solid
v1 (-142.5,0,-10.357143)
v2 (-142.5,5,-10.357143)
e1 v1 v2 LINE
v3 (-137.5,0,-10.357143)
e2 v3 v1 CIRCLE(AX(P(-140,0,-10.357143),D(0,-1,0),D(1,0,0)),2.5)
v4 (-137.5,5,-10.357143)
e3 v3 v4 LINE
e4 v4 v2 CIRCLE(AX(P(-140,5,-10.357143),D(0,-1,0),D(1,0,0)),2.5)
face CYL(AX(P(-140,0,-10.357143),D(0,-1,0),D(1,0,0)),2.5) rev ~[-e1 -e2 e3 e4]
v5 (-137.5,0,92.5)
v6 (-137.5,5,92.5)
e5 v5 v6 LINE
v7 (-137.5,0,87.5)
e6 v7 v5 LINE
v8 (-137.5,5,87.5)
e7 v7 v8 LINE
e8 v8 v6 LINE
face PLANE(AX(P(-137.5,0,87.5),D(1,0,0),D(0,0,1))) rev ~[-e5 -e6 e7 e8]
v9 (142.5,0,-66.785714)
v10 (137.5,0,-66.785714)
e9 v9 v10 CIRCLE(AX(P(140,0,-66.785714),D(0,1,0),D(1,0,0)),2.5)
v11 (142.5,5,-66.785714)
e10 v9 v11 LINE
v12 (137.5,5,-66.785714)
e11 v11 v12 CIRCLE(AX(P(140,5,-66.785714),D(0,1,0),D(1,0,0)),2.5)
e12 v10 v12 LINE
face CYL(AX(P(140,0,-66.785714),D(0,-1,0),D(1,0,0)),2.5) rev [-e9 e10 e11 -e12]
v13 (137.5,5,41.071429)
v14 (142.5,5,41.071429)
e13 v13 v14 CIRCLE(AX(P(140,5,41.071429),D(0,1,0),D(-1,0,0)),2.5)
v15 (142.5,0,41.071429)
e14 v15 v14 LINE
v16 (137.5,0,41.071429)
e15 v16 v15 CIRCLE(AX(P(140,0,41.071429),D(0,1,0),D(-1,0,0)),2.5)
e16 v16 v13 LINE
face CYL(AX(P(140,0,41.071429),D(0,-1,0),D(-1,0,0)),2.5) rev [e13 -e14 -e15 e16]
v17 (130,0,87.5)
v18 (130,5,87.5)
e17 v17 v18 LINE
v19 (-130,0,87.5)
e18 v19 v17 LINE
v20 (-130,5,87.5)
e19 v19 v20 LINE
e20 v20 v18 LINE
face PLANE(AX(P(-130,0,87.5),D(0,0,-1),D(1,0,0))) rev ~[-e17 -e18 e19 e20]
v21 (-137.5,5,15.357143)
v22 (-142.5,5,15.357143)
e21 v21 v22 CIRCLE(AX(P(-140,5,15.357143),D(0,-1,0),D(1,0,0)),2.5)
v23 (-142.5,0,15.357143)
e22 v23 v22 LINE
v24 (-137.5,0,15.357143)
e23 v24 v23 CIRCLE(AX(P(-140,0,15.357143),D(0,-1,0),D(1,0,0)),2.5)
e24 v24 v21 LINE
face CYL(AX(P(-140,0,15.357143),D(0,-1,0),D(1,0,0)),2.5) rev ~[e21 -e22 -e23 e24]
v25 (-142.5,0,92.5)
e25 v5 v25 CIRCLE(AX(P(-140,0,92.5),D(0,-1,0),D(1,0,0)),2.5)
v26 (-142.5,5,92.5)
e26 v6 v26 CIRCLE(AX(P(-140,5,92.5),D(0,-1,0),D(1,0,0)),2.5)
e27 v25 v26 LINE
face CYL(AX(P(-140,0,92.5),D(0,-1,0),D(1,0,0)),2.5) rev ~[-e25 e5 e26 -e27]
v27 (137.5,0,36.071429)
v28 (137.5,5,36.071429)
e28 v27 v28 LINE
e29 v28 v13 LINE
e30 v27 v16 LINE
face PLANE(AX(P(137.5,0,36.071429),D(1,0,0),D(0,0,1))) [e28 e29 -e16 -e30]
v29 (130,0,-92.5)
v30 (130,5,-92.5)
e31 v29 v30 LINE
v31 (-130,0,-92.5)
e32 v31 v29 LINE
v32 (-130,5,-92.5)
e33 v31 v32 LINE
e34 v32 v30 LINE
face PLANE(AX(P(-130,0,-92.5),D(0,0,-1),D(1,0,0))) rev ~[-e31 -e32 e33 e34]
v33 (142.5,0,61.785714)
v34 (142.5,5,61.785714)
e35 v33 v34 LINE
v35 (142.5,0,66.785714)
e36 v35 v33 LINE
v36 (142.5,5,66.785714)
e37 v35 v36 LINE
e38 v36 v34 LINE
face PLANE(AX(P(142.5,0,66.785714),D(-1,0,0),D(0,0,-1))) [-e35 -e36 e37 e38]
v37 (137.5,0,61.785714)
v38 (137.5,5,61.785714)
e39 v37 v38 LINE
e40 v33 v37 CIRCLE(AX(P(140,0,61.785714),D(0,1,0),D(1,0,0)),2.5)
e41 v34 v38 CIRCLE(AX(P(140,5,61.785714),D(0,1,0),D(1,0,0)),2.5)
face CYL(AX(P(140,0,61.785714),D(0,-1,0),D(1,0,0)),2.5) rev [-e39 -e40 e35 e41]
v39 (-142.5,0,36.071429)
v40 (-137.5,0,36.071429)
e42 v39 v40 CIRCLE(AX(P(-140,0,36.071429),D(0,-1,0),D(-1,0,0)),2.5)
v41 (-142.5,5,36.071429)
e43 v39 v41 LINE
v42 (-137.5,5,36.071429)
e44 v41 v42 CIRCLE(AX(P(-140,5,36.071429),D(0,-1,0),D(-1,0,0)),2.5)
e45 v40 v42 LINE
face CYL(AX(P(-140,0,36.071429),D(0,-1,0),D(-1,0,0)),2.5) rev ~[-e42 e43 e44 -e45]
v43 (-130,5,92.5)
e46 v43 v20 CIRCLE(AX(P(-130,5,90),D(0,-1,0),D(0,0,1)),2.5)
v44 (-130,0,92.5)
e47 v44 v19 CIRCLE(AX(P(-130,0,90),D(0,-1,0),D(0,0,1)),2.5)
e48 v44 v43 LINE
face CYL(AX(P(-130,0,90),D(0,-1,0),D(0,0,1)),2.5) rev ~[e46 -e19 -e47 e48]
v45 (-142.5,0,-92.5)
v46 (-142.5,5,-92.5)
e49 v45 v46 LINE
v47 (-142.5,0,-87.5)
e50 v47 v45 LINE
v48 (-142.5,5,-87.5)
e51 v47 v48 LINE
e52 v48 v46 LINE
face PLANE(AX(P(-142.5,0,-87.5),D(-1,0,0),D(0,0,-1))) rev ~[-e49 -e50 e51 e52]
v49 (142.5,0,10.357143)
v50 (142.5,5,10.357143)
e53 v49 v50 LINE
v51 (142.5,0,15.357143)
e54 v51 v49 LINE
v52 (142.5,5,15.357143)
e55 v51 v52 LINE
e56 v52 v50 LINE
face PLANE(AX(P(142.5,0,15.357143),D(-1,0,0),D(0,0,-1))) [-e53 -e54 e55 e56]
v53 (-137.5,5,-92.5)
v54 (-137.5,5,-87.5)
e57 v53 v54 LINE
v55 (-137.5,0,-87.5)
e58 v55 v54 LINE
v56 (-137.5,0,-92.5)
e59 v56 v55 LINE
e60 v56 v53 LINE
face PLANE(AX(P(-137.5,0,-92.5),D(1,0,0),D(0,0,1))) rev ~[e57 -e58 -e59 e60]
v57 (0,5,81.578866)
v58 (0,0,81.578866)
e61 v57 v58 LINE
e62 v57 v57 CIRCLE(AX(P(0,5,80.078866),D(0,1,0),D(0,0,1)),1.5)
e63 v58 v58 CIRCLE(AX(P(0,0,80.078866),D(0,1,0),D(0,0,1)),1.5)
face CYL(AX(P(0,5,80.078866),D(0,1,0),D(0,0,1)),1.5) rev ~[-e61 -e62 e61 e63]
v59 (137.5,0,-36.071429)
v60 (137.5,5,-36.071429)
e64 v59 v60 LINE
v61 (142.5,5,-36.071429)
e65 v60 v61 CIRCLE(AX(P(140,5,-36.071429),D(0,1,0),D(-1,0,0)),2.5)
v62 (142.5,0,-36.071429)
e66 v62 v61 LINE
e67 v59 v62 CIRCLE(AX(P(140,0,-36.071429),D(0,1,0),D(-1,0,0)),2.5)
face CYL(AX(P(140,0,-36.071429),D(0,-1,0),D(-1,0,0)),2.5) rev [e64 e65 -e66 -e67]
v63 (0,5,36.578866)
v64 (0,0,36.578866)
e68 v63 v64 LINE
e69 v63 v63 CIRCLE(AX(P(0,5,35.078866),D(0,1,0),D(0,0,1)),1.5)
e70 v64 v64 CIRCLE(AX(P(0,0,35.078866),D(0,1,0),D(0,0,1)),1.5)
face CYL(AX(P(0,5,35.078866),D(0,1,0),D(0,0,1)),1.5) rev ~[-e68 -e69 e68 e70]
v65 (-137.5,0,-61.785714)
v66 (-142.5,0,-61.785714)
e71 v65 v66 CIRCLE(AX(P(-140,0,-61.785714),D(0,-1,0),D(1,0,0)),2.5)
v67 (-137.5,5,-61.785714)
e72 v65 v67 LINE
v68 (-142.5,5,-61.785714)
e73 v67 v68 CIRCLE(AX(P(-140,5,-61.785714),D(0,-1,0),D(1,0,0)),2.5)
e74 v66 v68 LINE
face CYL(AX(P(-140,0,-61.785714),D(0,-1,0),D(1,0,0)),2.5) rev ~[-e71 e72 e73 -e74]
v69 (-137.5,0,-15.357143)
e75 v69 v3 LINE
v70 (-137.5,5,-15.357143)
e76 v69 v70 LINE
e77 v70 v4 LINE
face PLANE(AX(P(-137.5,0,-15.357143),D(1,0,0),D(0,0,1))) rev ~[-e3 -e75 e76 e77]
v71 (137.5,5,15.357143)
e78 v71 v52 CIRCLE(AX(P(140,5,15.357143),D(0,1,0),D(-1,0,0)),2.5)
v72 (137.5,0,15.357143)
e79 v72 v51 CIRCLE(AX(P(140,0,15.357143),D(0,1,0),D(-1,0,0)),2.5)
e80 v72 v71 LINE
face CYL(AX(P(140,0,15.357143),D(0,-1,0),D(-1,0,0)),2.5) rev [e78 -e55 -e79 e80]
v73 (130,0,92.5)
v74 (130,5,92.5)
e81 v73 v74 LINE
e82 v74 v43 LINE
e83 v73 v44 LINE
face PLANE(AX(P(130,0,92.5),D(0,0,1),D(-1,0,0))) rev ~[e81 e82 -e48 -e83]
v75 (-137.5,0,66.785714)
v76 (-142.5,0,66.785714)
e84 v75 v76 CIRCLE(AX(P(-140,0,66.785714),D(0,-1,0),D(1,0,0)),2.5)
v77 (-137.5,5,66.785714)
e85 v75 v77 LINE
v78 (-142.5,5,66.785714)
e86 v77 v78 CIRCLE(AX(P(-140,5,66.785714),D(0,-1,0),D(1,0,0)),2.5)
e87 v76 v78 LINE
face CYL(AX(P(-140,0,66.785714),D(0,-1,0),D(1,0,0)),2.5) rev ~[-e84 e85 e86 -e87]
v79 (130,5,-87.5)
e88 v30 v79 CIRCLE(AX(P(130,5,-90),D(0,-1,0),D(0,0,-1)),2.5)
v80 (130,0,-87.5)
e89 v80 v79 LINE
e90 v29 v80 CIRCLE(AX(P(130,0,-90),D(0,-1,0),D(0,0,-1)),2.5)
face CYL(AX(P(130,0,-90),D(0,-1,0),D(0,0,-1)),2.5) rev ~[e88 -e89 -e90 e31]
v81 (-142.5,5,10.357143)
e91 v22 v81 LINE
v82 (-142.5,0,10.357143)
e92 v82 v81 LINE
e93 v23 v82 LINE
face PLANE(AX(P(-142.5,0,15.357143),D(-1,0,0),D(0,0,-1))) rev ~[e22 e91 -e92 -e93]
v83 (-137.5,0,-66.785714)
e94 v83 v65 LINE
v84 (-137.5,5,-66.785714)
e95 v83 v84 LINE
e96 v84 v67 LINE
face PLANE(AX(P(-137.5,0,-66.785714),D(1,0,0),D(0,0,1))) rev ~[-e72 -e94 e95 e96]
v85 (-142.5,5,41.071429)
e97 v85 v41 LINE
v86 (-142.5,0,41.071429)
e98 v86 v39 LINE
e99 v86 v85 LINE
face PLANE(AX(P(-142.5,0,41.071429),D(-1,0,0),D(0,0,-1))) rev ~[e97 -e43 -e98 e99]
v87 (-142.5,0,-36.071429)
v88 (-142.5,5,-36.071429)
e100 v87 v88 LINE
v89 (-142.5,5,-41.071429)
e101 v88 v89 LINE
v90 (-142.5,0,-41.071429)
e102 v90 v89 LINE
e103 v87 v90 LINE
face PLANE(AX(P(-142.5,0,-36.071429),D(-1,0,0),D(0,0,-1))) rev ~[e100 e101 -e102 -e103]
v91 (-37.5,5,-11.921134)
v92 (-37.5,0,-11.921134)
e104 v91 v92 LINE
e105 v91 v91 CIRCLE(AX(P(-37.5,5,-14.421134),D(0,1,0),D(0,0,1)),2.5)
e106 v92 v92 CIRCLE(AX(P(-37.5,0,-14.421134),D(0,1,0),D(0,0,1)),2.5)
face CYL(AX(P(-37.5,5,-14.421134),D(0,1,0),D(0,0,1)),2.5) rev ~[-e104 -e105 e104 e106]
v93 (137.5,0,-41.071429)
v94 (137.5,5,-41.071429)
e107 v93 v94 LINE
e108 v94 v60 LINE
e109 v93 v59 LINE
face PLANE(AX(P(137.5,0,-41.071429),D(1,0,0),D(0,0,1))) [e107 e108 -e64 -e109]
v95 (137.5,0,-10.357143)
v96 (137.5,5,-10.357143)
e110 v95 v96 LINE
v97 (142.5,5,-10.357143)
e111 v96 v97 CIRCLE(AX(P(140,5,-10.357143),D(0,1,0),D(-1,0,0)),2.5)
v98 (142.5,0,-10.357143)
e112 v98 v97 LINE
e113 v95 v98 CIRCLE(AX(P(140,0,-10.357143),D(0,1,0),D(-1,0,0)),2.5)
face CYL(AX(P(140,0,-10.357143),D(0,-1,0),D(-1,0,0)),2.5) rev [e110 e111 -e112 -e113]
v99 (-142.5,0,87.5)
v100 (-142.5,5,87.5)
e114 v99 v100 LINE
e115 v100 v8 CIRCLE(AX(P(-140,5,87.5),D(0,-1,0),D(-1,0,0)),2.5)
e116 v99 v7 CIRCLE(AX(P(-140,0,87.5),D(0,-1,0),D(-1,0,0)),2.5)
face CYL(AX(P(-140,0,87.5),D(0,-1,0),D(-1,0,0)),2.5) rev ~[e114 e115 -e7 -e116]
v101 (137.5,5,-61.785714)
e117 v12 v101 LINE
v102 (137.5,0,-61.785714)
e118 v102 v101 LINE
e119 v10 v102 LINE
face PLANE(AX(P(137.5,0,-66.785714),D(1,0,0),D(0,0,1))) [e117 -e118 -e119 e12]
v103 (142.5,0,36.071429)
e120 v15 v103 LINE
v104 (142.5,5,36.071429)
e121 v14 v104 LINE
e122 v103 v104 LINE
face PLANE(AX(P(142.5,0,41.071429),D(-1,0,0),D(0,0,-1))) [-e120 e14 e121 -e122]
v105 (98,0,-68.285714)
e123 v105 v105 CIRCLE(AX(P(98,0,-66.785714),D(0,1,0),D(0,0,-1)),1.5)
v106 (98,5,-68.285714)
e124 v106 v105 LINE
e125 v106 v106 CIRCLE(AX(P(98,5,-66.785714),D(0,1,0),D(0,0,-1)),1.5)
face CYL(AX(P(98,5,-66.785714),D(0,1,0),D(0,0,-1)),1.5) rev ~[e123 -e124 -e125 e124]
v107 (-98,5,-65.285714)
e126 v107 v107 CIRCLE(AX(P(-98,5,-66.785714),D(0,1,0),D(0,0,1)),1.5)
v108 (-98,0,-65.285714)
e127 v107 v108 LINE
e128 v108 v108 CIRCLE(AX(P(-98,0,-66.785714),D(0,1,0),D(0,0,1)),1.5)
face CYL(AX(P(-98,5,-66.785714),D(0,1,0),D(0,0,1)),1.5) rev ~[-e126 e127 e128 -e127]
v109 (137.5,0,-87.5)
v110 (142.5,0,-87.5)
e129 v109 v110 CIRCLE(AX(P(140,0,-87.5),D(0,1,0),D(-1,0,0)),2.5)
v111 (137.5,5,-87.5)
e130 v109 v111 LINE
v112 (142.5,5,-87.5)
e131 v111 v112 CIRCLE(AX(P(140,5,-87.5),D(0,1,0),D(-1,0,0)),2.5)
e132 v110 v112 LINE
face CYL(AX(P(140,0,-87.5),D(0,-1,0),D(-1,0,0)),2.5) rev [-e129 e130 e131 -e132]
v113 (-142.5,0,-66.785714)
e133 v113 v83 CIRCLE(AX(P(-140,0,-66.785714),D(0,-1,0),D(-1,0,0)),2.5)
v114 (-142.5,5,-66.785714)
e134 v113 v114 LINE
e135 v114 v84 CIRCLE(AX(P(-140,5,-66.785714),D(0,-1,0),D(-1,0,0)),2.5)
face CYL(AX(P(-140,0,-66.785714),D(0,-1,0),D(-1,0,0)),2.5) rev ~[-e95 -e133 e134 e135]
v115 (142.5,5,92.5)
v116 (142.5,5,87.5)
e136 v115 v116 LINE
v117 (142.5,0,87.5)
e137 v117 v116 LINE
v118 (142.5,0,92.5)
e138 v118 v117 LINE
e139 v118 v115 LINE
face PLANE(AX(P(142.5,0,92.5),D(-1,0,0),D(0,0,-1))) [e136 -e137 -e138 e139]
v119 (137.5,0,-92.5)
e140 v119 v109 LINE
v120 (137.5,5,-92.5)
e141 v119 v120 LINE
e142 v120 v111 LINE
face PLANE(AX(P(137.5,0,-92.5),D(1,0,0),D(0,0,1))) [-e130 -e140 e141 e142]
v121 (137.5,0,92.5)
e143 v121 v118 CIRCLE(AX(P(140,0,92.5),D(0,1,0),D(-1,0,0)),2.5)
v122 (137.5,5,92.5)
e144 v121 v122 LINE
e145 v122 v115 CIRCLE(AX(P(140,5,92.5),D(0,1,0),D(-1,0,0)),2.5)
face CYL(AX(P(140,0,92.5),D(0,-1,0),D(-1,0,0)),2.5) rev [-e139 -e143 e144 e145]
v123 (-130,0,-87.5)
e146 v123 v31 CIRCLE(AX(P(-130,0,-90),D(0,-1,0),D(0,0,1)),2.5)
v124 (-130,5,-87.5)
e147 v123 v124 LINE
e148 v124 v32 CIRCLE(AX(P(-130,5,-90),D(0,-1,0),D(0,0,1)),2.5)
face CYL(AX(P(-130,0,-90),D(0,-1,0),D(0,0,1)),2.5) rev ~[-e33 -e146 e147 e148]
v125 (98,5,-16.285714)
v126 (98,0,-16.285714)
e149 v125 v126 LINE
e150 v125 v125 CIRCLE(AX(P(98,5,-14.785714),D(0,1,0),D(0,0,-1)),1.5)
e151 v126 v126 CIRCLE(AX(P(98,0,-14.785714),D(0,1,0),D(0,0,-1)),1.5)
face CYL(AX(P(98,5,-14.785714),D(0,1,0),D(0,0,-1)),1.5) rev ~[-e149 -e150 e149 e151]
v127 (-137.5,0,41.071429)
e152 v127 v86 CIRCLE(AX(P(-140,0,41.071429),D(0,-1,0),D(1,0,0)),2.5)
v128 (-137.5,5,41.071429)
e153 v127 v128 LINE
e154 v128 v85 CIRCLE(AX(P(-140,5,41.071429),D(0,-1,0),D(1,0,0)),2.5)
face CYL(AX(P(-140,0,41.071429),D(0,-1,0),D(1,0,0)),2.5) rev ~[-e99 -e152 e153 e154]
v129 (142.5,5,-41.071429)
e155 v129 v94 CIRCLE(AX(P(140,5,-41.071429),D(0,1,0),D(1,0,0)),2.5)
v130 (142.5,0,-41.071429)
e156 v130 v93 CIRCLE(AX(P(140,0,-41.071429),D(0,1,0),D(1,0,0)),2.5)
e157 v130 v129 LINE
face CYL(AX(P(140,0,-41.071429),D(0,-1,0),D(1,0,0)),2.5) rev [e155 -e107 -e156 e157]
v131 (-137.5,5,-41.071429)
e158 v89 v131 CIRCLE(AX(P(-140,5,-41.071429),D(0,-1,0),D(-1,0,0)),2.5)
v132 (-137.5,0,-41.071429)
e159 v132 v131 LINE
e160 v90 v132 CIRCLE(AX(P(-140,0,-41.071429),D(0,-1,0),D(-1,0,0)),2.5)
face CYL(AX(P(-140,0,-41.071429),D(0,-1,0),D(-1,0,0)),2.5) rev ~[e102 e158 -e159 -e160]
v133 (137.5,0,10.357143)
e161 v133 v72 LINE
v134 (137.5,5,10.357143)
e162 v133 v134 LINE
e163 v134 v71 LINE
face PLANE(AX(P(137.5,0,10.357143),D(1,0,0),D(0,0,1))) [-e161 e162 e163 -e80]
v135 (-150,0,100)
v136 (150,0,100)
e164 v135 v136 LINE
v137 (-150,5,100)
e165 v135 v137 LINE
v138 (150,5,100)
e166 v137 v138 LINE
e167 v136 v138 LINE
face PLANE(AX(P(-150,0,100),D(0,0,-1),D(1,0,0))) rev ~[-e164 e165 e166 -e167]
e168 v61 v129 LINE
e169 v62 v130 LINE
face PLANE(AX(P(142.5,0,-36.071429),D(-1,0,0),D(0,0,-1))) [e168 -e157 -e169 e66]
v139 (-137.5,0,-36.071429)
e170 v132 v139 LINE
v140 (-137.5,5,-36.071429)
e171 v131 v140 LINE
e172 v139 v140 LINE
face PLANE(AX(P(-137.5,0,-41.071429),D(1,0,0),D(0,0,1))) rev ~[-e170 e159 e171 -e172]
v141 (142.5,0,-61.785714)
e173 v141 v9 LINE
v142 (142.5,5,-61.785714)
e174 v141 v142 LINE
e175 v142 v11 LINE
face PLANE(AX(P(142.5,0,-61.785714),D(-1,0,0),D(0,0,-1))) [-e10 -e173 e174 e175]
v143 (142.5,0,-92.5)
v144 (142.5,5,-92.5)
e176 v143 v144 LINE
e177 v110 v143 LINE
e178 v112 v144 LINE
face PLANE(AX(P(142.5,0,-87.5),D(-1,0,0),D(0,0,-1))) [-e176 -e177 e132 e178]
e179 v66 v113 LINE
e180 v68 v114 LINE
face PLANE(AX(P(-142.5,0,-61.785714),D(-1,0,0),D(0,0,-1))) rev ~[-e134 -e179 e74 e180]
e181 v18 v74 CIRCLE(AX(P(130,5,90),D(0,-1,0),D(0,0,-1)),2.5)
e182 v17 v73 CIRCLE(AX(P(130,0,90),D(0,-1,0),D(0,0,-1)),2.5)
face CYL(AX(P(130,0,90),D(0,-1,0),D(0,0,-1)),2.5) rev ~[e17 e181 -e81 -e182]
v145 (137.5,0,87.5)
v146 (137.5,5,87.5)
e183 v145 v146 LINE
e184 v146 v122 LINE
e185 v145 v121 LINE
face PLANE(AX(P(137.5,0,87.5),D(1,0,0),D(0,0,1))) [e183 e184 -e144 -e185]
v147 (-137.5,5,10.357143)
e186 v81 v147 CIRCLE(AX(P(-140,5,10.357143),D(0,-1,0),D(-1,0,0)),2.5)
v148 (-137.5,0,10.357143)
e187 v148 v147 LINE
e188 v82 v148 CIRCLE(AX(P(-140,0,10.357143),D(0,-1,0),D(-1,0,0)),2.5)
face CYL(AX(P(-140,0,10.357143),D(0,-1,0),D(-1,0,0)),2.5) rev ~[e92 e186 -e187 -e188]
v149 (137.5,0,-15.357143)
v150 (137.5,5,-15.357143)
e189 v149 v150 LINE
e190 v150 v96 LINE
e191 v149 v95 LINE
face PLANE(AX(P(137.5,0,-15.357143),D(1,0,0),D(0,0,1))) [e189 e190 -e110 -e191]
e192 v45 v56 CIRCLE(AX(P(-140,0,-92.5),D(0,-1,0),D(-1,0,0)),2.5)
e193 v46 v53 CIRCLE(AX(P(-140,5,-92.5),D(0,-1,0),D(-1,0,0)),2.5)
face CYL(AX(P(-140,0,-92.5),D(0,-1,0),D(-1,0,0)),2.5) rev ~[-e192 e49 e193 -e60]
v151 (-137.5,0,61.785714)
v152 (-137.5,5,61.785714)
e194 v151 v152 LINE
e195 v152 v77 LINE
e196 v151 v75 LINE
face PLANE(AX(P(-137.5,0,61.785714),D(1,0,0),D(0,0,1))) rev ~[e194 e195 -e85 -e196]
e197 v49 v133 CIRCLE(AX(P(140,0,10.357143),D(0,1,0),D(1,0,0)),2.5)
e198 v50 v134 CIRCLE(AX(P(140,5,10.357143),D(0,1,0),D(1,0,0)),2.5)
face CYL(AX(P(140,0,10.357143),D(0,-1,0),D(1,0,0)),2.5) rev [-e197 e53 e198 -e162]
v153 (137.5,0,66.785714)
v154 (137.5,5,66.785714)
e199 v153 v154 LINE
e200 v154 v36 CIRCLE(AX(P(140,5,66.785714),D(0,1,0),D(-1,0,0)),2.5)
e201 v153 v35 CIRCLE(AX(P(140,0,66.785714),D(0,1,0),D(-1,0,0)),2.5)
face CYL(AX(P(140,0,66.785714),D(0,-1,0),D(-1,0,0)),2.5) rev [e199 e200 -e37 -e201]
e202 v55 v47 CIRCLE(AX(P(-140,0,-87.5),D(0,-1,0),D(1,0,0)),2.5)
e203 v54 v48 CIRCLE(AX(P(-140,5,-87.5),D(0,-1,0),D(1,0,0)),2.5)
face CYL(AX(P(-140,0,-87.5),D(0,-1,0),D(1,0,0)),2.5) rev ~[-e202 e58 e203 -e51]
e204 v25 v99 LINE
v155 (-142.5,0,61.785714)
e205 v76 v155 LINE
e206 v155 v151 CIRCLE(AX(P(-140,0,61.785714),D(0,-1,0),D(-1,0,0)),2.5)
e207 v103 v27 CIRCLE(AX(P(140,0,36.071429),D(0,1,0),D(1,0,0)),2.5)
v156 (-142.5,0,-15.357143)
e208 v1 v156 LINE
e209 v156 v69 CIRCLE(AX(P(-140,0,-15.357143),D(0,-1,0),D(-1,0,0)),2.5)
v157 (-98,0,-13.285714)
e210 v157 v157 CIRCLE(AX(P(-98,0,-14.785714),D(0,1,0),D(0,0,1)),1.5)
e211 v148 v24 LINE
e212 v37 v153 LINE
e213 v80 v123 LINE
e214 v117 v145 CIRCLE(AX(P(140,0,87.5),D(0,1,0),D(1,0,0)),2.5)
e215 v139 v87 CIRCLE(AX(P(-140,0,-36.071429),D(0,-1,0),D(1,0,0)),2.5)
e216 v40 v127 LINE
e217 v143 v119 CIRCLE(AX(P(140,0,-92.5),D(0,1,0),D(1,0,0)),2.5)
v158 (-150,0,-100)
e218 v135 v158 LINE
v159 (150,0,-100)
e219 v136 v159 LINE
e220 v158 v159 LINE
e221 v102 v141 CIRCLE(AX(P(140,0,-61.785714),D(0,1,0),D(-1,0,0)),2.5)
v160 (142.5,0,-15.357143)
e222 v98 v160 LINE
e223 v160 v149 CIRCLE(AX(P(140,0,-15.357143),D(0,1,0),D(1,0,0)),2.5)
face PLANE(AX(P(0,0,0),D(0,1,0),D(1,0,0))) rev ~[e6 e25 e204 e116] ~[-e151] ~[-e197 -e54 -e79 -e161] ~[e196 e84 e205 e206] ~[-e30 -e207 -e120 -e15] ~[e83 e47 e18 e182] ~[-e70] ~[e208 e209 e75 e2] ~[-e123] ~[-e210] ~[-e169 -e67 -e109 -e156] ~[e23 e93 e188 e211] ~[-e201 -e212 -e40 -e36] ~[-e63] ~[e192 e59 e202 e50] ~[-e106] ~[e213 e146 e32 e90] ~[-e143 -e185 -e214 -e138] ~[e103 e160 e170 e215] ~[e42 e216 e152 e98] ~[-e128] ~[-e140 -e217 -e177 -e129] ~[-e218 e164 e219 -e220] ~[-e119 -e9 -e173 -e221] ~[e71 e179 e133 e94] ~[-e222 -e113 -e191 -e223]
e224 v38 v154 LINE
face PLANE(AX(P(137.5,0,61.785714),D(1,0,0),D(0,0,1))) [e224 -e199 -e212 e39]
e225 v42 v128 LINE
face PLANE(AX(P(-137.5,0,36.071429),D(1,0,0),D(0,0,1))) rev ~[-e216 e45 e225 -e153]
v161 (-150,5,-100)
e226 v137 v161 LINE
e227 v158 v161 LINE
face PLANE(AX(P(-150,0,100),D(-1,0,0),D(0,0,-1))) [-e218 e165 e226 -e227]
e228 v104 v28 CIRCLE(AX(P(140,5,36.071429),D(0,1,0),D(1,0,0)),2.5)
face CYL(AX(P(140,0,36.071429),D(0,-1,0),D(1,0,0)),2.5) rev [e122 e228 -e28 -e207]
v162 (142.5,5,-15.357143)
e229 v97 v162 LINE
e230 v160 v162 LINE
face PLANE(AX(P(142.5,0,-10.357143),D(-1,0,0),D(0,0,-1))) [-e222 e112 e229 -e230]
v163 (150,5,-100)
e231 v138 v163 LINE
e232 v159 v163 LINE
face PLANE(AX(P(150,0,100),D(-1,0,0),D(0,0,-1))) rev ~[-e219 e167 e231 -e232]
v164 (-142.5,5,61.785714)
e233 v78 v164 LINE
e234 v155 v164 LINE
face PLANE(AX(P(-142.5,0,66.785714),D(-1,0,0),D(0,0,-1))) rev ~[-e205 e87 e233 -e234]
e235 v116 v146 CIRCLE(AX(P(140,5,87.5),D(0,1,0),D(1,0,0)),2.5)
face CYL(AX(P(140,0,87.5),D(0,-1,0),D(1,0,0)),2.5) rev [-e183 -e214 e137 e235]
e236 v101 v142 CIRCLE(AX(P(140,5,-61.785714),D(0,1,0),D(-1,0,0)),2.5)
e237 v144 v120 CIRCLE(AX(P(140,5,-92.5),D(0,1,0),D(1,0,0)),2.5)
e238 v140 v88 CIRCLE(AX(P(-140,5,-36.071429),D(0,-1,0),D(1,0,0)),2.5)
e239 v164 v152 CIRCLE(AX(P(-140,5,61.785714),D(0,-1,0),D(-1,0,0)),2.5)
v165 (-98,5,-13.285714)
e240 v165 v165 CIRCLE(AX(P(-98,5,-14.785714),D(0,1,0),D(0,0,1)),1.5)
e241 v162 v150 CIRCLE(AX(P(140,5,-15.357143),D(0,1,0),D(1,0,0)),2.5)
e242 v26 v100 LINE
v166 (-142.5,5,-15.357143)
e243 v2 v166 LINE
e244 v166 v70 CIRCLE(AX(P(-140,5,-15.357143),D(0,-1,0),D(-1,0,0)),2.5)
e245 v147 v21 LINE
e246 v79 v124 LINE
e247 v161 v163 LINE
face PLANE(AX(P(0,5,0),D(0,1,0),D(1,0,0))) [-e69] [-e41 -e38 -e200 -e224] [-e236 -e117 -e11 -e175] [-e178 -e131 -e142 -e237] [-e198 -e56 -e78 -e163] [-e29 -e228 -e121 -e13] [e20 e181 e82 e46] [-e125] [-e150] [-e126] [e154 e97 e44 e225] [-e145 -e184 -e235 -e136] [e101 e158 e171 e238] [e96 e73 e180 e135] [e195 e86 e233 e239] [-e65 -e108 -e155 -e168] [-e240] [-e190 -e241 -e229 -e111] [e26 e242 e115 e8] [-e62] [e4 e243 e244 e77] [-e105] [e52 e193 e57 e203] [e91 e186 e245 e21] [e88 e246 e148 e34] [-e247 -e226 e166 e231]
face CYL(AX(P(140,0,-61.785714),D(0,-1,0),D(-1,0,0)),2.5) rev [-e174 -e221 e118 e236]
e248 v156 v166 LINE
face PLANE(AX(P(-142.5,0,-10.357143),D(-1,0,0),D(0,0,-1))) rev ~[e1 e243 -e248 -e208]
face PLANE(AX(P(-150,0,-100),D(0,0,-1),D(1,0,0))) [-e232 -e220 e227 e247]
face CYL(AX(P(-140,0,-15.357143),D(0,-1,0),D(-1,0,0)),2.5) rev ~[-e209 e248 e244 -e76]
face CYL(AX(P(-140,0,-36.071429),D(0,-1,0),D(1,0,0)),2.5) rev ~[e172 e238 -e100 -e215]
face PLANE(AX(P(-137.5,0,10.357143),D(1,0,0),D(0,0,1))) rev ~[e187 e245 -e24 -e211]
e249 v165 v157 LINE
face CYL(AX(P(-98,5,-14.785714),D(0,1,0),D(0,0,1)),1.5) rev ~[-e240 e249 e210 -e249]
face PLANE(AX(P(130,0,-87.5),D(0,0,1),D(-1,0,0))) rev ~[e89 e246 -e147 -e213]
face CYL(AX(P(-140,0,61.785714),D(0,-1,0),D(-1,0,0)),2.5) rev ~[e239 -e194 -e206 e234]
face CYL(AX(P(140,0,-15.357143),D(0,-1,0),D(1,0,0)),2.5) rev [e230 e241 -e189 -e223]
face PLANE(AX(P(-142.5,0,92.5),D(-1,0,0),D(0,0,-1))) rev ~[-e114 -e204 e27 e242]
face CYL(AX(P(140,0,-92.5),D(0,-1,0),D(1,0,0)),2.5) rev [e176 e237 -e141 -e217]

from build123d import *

# Parameters (mm, degrees)
SKETCH_1_W          = 300
SKETCH_1_H          = 200
EXTRUDE_1_DEPTH     = 5
SKETCH_3_R          = 1.5
SKETCH_3_R_2        = 2.5
CUT_EXTRUDE_1_DEPTH = 181.346887969


with BuildPart() as part:
    # 草圖1 → 填料-伸長1 (new body)
    with BuildSketch(Plane(origin=(0, 0, 0), x_dir=(1, 0, 0), z_dir=(0, 1, 0))):
        Rectangle(SKETCH_1_W, SKETCH_1_H)
        with BuildLine():
            Line((-137.5, 92.5), (-137.5, 87.5))
            ThreePointArc((-137.5, 87.5), (-140, 85), (-142.5, 87.5))
            Line((-142.5, 87.5), (-142.5, 92.5))
            ThreePointArc((-142.5, 92.5), (-140, 95), (-137.5, 92.5))
        make_face(mode=Mode.SUBTRACT)
        with BuildLine():
            Line((-137.5, 66.785714286), (-137.5, 61.785714286))
            ThreePointArc((-137.5, 61.785714286), (-140, 59.285714286), (-142.5, 61.785714286))
            Line((-142.5, 61.785714286), (-142.5, 66.785714286))
            ThreePointArc((-142.5, 66.785714286), (-140, 69.285714286), (-137.5, 66.785714286))
        make_face(mode=Mode.SUBTRACT)
        with BuildLine():
            Line((-137.5, 41.071428571), (-137.5, 36.071428571))
            ThreePointArc((-137.5, 36.071428571), (-140, 33.571428571), (-142.5, 36.071428571))
            Line((-142.5, 36.071428571), (-142.5, 41.071428571))
            ThreePointArc((-142.5, 41.071428571), (-140, 43.571428571), (-137.5, 41.071428571))
        make_face(mode=Mode.SUBTRACT)
        with BuildLine():
            Line((-137.5, 15.357142857), (-137.5, 10.357142857))
            ThreePointArc((-137.5, 10.357142857), (-140, 7.857142857), (-142.5, 10.357142857))
            Line((-142.5, 10.357142857), (-142.5, 15.357142857))
            ThreePointArc((-142.5, 15.357142857), (-140, 17.857142857), (-137.5, 15.357142857))
        make_face(mode=Mode.SUBTRACT)
        with BuildLine():
            Line((-137.5, -10.357142857), (-137.5, -15.357142857))
            ThreePointArc((-137.5, -15.357142857), (-140, -17.857142857), (-142.5, -15.357142857))
            Line((-142.5, -15.357142857), (-142.5, -10.357142857))
            ThreePointArc((-142.5, -10.357142857), (-140, -7.857142857), (-137.5, -10.357142857))
        make_face(mode=Mode.SUBTRACT)
        with BuildLine():
            Line((-137.5, -36.071428571), (-137.5, -41.071428571))
            ThreePointArc((-137.5, -41.071428571), (-140, -43.571428571), (-142.5, -41.071428571))
            Line((-142.5, -41.071428571), (-142.5, -36.071428571))
            ThreePointArc((-142.5, -36.071428571), (-140, -33.571428571), (-137.5, -36.071428571))
        make_face(mode=Mode.SUBTRACT)
        with BuildLine():
            Line((-137.5, -61.785714286), (-137.5, -66.785714286))
            ThreePointArc((-137.5, -66.785714286), (-140, -69.285714286), (-142.5, -66.785714286))
            Line((-142.5, -66.785714286), (-142.5, -61.785714286))
            ThreePointArc((-142.5, -61.785714286), (-140, -59.285714286), (-137.5, -61.785714286))
        make_face(mode=Mode.SUBTRACT)
        with BuildLine():
            Line((-137.5, -87.5), (-137.5, -92.5))
            ThreePointArc((-137.5, -92.5), (-140, -95), (-142.5, -92.5))
            Line((-142.5, -92.5), (-142.5, -87.5))
            ThreePointArc((-142.5, -87.5), (-140, -85), (-137.5, -87.5))
        make_face(mode=Mode.SUBTRACT)
        with BuildLine():
            Line((137.5, 92.5), (137.5, 87.5))
            ThreePointArc((137.5, 87.5), (140, 85), (142.5, 87.5))
            Line((142.5, 87.5), (142.5, 92.5))
            ThreePointArc((142.5, 92.5), (140, 95), (137.5, 92.5))
        make_face(mode=Mode.SUBTRACT)
        with BuildLine():
            Line((137.5, 66.785714286), (137.5, 61.785714286))
            ThreePointArc((137.5, 61.785714286), (140, 59.285714286), (142.5, 61.785714286))
            Line((142.5, 61.785714286), (142.5, 66.785714286))
            ThreePointArc((142.5, 66.785714286), (140, 69.285714286), (137.5, 66.785714286))
        make_face(mode=Mode.SUBTRACT)
        with BuildLine():
            Line((137.5, 41.071428571), (137.5, 36.071428571))
            ThreePointArc((137.5, 36.071428571), (140, 33.571428571), (142.5, 36.071428571))
            Line((142.5, 36.071428571), (142.5, 41.071428571))
            ThreePointArc((142.5, 41.071428571), (140, 43.571428571), (137.5, 41.071428571))
        make_face(mode=Mode.SUBTRACT)
        with BuildLine():
            Line((-130, -87.5), (130, -87.5))
            ThreePointArc((130, -87.5), (132.5, -90), (130, -92.5))
            Line((130, -92.5), (-130, -92.5))
            ThreePointArc((-130, -92.5), (-132.5, -90), (-130, -87.5))
        make_face(mode=Mode.SUBTRACT)
        with BuildLine():
            Line((-130, 92.5), (130, 92.5))
            ThreePointArc((130, 92.5), (132.5, 90), (130, 87.5))
            Line((130, 87.5), (-130, 87.5))
            ThreePointArc((-130, 87.5), (-132.5, 90), (-130, 92.5))
        make_face(mode=Mode.SUBTRACT)
        with BuildLine():
            Line((137.5, 15.357142857), (137.5, 10.357142857))
            ThreePointArc((137.5, 10.357142857), (140, 7.857142857), (142.5, 10.357142857))
            Line((142.5, 10.357142857), (142.5, 15.357142857))
            ThreePointArc((142.5, 15.357142857), (140, 17.857142857), (137.5, 15.357142857))
        make_face(mode=Mode.SUBTRACT)
        with BuildLine():
            Line((137.5, -10.357142857), (137.5, -15.357142857))
            ThreePointArc((137.5, -15.357142857), (140, -17.857142857), (142.5, -15.357142857))
            Line((142.5, -15.357142857), (142.5, -10.357142857))
            ThreePointArc((142.5, -10.357142857), (140, -7.857142857), (137.5, -10.357142857))
        make_face(mode=Mode.SUBTRACT)
        with BuildLine():
            Line((137.5, -36.071428571), (137.5, -41.071428571))
            ThreePointArc((137.5, -41.071428571), (140, -43.571428571), (142.5, -41.071428571))
            Line((142.5, -41.071428571), (142.5, -36.071428571))
            ThreePointArc((142.5, -36.071428571), (140, -33.571428571), (137.5, -36.071428571))
        make_face(mode=Mode.SUBTRACT)
        with BuildLine():
            Line((137.5, -61.785714286), (137.5, -66.785714286))
            ThreePointArc((137.5, -66.785714286), (140, -69.285714286), (142.5, -66.785714286))
            Line((142.5, -66.785714286), (142.5, -61.785714286))
            ThreePointArc((142.5, -61.785714286), (140, -59.285714286), (137.5, -61.785714286))
        make_face(mode=Mode.SUBTRACT)
        with BuildLine():
            Line((137.5, -87.5), (137.5, -92.5))
            ThreePointArc((137.5, -92.5), (140, -95), (142.5, -92.5))
            Line((142.5, -92.5), (142.5, -87.5))
            ThreePointArc((142.5, -87.5), (140, -85), (137.5, -87.5))
        make_face(mode=Mode.SUBTRACT)
    extrude(amount=EXTRUDE_1_DEPTH)

    # 草圖3 → 除料-伸長1 (cut, through all)
    with BuildSketch(Plane(origin=(0, 5, 0), x_dir=(1, 0, 0), z_dir=(0, 1, 0))):
        with Locations(Location((0, -80.078865529, 0), (0, 0, 270))):
            Circle(SKETCH_3_R)
        with Locations(Location((0, -35.078865529, 0), (0, 0, 270))):
            Circle(SKETCH_3_R)
        with Locations(Location((-98, 14.785714286, 0), (0, 0, 270))):
            Circle(SKETCH_3_R)
        with Locations(Location((-98, 66.785714286, 0), (0, 0, 270))):
            Circle(SKETCH_3_R)
        with Locations(Location((98, 14.785714286, 0), (0, 0, 90))):
            Circle(SKETCH_3_R)
        with Locations(Location((98, 66.785714286, 0), (0, 0, 90))):
            Circle(SKETCH_3_R)
        with Locations(Location((-37.5, 14.421134471, 0), (0, 0, 270))):
            Circle(SKETCH_3_R_2)
    extrude(amount=-CUT_EXTRUDE_1_DEPTH, mode=Mode.SUBTRACT)


solid = part.part
